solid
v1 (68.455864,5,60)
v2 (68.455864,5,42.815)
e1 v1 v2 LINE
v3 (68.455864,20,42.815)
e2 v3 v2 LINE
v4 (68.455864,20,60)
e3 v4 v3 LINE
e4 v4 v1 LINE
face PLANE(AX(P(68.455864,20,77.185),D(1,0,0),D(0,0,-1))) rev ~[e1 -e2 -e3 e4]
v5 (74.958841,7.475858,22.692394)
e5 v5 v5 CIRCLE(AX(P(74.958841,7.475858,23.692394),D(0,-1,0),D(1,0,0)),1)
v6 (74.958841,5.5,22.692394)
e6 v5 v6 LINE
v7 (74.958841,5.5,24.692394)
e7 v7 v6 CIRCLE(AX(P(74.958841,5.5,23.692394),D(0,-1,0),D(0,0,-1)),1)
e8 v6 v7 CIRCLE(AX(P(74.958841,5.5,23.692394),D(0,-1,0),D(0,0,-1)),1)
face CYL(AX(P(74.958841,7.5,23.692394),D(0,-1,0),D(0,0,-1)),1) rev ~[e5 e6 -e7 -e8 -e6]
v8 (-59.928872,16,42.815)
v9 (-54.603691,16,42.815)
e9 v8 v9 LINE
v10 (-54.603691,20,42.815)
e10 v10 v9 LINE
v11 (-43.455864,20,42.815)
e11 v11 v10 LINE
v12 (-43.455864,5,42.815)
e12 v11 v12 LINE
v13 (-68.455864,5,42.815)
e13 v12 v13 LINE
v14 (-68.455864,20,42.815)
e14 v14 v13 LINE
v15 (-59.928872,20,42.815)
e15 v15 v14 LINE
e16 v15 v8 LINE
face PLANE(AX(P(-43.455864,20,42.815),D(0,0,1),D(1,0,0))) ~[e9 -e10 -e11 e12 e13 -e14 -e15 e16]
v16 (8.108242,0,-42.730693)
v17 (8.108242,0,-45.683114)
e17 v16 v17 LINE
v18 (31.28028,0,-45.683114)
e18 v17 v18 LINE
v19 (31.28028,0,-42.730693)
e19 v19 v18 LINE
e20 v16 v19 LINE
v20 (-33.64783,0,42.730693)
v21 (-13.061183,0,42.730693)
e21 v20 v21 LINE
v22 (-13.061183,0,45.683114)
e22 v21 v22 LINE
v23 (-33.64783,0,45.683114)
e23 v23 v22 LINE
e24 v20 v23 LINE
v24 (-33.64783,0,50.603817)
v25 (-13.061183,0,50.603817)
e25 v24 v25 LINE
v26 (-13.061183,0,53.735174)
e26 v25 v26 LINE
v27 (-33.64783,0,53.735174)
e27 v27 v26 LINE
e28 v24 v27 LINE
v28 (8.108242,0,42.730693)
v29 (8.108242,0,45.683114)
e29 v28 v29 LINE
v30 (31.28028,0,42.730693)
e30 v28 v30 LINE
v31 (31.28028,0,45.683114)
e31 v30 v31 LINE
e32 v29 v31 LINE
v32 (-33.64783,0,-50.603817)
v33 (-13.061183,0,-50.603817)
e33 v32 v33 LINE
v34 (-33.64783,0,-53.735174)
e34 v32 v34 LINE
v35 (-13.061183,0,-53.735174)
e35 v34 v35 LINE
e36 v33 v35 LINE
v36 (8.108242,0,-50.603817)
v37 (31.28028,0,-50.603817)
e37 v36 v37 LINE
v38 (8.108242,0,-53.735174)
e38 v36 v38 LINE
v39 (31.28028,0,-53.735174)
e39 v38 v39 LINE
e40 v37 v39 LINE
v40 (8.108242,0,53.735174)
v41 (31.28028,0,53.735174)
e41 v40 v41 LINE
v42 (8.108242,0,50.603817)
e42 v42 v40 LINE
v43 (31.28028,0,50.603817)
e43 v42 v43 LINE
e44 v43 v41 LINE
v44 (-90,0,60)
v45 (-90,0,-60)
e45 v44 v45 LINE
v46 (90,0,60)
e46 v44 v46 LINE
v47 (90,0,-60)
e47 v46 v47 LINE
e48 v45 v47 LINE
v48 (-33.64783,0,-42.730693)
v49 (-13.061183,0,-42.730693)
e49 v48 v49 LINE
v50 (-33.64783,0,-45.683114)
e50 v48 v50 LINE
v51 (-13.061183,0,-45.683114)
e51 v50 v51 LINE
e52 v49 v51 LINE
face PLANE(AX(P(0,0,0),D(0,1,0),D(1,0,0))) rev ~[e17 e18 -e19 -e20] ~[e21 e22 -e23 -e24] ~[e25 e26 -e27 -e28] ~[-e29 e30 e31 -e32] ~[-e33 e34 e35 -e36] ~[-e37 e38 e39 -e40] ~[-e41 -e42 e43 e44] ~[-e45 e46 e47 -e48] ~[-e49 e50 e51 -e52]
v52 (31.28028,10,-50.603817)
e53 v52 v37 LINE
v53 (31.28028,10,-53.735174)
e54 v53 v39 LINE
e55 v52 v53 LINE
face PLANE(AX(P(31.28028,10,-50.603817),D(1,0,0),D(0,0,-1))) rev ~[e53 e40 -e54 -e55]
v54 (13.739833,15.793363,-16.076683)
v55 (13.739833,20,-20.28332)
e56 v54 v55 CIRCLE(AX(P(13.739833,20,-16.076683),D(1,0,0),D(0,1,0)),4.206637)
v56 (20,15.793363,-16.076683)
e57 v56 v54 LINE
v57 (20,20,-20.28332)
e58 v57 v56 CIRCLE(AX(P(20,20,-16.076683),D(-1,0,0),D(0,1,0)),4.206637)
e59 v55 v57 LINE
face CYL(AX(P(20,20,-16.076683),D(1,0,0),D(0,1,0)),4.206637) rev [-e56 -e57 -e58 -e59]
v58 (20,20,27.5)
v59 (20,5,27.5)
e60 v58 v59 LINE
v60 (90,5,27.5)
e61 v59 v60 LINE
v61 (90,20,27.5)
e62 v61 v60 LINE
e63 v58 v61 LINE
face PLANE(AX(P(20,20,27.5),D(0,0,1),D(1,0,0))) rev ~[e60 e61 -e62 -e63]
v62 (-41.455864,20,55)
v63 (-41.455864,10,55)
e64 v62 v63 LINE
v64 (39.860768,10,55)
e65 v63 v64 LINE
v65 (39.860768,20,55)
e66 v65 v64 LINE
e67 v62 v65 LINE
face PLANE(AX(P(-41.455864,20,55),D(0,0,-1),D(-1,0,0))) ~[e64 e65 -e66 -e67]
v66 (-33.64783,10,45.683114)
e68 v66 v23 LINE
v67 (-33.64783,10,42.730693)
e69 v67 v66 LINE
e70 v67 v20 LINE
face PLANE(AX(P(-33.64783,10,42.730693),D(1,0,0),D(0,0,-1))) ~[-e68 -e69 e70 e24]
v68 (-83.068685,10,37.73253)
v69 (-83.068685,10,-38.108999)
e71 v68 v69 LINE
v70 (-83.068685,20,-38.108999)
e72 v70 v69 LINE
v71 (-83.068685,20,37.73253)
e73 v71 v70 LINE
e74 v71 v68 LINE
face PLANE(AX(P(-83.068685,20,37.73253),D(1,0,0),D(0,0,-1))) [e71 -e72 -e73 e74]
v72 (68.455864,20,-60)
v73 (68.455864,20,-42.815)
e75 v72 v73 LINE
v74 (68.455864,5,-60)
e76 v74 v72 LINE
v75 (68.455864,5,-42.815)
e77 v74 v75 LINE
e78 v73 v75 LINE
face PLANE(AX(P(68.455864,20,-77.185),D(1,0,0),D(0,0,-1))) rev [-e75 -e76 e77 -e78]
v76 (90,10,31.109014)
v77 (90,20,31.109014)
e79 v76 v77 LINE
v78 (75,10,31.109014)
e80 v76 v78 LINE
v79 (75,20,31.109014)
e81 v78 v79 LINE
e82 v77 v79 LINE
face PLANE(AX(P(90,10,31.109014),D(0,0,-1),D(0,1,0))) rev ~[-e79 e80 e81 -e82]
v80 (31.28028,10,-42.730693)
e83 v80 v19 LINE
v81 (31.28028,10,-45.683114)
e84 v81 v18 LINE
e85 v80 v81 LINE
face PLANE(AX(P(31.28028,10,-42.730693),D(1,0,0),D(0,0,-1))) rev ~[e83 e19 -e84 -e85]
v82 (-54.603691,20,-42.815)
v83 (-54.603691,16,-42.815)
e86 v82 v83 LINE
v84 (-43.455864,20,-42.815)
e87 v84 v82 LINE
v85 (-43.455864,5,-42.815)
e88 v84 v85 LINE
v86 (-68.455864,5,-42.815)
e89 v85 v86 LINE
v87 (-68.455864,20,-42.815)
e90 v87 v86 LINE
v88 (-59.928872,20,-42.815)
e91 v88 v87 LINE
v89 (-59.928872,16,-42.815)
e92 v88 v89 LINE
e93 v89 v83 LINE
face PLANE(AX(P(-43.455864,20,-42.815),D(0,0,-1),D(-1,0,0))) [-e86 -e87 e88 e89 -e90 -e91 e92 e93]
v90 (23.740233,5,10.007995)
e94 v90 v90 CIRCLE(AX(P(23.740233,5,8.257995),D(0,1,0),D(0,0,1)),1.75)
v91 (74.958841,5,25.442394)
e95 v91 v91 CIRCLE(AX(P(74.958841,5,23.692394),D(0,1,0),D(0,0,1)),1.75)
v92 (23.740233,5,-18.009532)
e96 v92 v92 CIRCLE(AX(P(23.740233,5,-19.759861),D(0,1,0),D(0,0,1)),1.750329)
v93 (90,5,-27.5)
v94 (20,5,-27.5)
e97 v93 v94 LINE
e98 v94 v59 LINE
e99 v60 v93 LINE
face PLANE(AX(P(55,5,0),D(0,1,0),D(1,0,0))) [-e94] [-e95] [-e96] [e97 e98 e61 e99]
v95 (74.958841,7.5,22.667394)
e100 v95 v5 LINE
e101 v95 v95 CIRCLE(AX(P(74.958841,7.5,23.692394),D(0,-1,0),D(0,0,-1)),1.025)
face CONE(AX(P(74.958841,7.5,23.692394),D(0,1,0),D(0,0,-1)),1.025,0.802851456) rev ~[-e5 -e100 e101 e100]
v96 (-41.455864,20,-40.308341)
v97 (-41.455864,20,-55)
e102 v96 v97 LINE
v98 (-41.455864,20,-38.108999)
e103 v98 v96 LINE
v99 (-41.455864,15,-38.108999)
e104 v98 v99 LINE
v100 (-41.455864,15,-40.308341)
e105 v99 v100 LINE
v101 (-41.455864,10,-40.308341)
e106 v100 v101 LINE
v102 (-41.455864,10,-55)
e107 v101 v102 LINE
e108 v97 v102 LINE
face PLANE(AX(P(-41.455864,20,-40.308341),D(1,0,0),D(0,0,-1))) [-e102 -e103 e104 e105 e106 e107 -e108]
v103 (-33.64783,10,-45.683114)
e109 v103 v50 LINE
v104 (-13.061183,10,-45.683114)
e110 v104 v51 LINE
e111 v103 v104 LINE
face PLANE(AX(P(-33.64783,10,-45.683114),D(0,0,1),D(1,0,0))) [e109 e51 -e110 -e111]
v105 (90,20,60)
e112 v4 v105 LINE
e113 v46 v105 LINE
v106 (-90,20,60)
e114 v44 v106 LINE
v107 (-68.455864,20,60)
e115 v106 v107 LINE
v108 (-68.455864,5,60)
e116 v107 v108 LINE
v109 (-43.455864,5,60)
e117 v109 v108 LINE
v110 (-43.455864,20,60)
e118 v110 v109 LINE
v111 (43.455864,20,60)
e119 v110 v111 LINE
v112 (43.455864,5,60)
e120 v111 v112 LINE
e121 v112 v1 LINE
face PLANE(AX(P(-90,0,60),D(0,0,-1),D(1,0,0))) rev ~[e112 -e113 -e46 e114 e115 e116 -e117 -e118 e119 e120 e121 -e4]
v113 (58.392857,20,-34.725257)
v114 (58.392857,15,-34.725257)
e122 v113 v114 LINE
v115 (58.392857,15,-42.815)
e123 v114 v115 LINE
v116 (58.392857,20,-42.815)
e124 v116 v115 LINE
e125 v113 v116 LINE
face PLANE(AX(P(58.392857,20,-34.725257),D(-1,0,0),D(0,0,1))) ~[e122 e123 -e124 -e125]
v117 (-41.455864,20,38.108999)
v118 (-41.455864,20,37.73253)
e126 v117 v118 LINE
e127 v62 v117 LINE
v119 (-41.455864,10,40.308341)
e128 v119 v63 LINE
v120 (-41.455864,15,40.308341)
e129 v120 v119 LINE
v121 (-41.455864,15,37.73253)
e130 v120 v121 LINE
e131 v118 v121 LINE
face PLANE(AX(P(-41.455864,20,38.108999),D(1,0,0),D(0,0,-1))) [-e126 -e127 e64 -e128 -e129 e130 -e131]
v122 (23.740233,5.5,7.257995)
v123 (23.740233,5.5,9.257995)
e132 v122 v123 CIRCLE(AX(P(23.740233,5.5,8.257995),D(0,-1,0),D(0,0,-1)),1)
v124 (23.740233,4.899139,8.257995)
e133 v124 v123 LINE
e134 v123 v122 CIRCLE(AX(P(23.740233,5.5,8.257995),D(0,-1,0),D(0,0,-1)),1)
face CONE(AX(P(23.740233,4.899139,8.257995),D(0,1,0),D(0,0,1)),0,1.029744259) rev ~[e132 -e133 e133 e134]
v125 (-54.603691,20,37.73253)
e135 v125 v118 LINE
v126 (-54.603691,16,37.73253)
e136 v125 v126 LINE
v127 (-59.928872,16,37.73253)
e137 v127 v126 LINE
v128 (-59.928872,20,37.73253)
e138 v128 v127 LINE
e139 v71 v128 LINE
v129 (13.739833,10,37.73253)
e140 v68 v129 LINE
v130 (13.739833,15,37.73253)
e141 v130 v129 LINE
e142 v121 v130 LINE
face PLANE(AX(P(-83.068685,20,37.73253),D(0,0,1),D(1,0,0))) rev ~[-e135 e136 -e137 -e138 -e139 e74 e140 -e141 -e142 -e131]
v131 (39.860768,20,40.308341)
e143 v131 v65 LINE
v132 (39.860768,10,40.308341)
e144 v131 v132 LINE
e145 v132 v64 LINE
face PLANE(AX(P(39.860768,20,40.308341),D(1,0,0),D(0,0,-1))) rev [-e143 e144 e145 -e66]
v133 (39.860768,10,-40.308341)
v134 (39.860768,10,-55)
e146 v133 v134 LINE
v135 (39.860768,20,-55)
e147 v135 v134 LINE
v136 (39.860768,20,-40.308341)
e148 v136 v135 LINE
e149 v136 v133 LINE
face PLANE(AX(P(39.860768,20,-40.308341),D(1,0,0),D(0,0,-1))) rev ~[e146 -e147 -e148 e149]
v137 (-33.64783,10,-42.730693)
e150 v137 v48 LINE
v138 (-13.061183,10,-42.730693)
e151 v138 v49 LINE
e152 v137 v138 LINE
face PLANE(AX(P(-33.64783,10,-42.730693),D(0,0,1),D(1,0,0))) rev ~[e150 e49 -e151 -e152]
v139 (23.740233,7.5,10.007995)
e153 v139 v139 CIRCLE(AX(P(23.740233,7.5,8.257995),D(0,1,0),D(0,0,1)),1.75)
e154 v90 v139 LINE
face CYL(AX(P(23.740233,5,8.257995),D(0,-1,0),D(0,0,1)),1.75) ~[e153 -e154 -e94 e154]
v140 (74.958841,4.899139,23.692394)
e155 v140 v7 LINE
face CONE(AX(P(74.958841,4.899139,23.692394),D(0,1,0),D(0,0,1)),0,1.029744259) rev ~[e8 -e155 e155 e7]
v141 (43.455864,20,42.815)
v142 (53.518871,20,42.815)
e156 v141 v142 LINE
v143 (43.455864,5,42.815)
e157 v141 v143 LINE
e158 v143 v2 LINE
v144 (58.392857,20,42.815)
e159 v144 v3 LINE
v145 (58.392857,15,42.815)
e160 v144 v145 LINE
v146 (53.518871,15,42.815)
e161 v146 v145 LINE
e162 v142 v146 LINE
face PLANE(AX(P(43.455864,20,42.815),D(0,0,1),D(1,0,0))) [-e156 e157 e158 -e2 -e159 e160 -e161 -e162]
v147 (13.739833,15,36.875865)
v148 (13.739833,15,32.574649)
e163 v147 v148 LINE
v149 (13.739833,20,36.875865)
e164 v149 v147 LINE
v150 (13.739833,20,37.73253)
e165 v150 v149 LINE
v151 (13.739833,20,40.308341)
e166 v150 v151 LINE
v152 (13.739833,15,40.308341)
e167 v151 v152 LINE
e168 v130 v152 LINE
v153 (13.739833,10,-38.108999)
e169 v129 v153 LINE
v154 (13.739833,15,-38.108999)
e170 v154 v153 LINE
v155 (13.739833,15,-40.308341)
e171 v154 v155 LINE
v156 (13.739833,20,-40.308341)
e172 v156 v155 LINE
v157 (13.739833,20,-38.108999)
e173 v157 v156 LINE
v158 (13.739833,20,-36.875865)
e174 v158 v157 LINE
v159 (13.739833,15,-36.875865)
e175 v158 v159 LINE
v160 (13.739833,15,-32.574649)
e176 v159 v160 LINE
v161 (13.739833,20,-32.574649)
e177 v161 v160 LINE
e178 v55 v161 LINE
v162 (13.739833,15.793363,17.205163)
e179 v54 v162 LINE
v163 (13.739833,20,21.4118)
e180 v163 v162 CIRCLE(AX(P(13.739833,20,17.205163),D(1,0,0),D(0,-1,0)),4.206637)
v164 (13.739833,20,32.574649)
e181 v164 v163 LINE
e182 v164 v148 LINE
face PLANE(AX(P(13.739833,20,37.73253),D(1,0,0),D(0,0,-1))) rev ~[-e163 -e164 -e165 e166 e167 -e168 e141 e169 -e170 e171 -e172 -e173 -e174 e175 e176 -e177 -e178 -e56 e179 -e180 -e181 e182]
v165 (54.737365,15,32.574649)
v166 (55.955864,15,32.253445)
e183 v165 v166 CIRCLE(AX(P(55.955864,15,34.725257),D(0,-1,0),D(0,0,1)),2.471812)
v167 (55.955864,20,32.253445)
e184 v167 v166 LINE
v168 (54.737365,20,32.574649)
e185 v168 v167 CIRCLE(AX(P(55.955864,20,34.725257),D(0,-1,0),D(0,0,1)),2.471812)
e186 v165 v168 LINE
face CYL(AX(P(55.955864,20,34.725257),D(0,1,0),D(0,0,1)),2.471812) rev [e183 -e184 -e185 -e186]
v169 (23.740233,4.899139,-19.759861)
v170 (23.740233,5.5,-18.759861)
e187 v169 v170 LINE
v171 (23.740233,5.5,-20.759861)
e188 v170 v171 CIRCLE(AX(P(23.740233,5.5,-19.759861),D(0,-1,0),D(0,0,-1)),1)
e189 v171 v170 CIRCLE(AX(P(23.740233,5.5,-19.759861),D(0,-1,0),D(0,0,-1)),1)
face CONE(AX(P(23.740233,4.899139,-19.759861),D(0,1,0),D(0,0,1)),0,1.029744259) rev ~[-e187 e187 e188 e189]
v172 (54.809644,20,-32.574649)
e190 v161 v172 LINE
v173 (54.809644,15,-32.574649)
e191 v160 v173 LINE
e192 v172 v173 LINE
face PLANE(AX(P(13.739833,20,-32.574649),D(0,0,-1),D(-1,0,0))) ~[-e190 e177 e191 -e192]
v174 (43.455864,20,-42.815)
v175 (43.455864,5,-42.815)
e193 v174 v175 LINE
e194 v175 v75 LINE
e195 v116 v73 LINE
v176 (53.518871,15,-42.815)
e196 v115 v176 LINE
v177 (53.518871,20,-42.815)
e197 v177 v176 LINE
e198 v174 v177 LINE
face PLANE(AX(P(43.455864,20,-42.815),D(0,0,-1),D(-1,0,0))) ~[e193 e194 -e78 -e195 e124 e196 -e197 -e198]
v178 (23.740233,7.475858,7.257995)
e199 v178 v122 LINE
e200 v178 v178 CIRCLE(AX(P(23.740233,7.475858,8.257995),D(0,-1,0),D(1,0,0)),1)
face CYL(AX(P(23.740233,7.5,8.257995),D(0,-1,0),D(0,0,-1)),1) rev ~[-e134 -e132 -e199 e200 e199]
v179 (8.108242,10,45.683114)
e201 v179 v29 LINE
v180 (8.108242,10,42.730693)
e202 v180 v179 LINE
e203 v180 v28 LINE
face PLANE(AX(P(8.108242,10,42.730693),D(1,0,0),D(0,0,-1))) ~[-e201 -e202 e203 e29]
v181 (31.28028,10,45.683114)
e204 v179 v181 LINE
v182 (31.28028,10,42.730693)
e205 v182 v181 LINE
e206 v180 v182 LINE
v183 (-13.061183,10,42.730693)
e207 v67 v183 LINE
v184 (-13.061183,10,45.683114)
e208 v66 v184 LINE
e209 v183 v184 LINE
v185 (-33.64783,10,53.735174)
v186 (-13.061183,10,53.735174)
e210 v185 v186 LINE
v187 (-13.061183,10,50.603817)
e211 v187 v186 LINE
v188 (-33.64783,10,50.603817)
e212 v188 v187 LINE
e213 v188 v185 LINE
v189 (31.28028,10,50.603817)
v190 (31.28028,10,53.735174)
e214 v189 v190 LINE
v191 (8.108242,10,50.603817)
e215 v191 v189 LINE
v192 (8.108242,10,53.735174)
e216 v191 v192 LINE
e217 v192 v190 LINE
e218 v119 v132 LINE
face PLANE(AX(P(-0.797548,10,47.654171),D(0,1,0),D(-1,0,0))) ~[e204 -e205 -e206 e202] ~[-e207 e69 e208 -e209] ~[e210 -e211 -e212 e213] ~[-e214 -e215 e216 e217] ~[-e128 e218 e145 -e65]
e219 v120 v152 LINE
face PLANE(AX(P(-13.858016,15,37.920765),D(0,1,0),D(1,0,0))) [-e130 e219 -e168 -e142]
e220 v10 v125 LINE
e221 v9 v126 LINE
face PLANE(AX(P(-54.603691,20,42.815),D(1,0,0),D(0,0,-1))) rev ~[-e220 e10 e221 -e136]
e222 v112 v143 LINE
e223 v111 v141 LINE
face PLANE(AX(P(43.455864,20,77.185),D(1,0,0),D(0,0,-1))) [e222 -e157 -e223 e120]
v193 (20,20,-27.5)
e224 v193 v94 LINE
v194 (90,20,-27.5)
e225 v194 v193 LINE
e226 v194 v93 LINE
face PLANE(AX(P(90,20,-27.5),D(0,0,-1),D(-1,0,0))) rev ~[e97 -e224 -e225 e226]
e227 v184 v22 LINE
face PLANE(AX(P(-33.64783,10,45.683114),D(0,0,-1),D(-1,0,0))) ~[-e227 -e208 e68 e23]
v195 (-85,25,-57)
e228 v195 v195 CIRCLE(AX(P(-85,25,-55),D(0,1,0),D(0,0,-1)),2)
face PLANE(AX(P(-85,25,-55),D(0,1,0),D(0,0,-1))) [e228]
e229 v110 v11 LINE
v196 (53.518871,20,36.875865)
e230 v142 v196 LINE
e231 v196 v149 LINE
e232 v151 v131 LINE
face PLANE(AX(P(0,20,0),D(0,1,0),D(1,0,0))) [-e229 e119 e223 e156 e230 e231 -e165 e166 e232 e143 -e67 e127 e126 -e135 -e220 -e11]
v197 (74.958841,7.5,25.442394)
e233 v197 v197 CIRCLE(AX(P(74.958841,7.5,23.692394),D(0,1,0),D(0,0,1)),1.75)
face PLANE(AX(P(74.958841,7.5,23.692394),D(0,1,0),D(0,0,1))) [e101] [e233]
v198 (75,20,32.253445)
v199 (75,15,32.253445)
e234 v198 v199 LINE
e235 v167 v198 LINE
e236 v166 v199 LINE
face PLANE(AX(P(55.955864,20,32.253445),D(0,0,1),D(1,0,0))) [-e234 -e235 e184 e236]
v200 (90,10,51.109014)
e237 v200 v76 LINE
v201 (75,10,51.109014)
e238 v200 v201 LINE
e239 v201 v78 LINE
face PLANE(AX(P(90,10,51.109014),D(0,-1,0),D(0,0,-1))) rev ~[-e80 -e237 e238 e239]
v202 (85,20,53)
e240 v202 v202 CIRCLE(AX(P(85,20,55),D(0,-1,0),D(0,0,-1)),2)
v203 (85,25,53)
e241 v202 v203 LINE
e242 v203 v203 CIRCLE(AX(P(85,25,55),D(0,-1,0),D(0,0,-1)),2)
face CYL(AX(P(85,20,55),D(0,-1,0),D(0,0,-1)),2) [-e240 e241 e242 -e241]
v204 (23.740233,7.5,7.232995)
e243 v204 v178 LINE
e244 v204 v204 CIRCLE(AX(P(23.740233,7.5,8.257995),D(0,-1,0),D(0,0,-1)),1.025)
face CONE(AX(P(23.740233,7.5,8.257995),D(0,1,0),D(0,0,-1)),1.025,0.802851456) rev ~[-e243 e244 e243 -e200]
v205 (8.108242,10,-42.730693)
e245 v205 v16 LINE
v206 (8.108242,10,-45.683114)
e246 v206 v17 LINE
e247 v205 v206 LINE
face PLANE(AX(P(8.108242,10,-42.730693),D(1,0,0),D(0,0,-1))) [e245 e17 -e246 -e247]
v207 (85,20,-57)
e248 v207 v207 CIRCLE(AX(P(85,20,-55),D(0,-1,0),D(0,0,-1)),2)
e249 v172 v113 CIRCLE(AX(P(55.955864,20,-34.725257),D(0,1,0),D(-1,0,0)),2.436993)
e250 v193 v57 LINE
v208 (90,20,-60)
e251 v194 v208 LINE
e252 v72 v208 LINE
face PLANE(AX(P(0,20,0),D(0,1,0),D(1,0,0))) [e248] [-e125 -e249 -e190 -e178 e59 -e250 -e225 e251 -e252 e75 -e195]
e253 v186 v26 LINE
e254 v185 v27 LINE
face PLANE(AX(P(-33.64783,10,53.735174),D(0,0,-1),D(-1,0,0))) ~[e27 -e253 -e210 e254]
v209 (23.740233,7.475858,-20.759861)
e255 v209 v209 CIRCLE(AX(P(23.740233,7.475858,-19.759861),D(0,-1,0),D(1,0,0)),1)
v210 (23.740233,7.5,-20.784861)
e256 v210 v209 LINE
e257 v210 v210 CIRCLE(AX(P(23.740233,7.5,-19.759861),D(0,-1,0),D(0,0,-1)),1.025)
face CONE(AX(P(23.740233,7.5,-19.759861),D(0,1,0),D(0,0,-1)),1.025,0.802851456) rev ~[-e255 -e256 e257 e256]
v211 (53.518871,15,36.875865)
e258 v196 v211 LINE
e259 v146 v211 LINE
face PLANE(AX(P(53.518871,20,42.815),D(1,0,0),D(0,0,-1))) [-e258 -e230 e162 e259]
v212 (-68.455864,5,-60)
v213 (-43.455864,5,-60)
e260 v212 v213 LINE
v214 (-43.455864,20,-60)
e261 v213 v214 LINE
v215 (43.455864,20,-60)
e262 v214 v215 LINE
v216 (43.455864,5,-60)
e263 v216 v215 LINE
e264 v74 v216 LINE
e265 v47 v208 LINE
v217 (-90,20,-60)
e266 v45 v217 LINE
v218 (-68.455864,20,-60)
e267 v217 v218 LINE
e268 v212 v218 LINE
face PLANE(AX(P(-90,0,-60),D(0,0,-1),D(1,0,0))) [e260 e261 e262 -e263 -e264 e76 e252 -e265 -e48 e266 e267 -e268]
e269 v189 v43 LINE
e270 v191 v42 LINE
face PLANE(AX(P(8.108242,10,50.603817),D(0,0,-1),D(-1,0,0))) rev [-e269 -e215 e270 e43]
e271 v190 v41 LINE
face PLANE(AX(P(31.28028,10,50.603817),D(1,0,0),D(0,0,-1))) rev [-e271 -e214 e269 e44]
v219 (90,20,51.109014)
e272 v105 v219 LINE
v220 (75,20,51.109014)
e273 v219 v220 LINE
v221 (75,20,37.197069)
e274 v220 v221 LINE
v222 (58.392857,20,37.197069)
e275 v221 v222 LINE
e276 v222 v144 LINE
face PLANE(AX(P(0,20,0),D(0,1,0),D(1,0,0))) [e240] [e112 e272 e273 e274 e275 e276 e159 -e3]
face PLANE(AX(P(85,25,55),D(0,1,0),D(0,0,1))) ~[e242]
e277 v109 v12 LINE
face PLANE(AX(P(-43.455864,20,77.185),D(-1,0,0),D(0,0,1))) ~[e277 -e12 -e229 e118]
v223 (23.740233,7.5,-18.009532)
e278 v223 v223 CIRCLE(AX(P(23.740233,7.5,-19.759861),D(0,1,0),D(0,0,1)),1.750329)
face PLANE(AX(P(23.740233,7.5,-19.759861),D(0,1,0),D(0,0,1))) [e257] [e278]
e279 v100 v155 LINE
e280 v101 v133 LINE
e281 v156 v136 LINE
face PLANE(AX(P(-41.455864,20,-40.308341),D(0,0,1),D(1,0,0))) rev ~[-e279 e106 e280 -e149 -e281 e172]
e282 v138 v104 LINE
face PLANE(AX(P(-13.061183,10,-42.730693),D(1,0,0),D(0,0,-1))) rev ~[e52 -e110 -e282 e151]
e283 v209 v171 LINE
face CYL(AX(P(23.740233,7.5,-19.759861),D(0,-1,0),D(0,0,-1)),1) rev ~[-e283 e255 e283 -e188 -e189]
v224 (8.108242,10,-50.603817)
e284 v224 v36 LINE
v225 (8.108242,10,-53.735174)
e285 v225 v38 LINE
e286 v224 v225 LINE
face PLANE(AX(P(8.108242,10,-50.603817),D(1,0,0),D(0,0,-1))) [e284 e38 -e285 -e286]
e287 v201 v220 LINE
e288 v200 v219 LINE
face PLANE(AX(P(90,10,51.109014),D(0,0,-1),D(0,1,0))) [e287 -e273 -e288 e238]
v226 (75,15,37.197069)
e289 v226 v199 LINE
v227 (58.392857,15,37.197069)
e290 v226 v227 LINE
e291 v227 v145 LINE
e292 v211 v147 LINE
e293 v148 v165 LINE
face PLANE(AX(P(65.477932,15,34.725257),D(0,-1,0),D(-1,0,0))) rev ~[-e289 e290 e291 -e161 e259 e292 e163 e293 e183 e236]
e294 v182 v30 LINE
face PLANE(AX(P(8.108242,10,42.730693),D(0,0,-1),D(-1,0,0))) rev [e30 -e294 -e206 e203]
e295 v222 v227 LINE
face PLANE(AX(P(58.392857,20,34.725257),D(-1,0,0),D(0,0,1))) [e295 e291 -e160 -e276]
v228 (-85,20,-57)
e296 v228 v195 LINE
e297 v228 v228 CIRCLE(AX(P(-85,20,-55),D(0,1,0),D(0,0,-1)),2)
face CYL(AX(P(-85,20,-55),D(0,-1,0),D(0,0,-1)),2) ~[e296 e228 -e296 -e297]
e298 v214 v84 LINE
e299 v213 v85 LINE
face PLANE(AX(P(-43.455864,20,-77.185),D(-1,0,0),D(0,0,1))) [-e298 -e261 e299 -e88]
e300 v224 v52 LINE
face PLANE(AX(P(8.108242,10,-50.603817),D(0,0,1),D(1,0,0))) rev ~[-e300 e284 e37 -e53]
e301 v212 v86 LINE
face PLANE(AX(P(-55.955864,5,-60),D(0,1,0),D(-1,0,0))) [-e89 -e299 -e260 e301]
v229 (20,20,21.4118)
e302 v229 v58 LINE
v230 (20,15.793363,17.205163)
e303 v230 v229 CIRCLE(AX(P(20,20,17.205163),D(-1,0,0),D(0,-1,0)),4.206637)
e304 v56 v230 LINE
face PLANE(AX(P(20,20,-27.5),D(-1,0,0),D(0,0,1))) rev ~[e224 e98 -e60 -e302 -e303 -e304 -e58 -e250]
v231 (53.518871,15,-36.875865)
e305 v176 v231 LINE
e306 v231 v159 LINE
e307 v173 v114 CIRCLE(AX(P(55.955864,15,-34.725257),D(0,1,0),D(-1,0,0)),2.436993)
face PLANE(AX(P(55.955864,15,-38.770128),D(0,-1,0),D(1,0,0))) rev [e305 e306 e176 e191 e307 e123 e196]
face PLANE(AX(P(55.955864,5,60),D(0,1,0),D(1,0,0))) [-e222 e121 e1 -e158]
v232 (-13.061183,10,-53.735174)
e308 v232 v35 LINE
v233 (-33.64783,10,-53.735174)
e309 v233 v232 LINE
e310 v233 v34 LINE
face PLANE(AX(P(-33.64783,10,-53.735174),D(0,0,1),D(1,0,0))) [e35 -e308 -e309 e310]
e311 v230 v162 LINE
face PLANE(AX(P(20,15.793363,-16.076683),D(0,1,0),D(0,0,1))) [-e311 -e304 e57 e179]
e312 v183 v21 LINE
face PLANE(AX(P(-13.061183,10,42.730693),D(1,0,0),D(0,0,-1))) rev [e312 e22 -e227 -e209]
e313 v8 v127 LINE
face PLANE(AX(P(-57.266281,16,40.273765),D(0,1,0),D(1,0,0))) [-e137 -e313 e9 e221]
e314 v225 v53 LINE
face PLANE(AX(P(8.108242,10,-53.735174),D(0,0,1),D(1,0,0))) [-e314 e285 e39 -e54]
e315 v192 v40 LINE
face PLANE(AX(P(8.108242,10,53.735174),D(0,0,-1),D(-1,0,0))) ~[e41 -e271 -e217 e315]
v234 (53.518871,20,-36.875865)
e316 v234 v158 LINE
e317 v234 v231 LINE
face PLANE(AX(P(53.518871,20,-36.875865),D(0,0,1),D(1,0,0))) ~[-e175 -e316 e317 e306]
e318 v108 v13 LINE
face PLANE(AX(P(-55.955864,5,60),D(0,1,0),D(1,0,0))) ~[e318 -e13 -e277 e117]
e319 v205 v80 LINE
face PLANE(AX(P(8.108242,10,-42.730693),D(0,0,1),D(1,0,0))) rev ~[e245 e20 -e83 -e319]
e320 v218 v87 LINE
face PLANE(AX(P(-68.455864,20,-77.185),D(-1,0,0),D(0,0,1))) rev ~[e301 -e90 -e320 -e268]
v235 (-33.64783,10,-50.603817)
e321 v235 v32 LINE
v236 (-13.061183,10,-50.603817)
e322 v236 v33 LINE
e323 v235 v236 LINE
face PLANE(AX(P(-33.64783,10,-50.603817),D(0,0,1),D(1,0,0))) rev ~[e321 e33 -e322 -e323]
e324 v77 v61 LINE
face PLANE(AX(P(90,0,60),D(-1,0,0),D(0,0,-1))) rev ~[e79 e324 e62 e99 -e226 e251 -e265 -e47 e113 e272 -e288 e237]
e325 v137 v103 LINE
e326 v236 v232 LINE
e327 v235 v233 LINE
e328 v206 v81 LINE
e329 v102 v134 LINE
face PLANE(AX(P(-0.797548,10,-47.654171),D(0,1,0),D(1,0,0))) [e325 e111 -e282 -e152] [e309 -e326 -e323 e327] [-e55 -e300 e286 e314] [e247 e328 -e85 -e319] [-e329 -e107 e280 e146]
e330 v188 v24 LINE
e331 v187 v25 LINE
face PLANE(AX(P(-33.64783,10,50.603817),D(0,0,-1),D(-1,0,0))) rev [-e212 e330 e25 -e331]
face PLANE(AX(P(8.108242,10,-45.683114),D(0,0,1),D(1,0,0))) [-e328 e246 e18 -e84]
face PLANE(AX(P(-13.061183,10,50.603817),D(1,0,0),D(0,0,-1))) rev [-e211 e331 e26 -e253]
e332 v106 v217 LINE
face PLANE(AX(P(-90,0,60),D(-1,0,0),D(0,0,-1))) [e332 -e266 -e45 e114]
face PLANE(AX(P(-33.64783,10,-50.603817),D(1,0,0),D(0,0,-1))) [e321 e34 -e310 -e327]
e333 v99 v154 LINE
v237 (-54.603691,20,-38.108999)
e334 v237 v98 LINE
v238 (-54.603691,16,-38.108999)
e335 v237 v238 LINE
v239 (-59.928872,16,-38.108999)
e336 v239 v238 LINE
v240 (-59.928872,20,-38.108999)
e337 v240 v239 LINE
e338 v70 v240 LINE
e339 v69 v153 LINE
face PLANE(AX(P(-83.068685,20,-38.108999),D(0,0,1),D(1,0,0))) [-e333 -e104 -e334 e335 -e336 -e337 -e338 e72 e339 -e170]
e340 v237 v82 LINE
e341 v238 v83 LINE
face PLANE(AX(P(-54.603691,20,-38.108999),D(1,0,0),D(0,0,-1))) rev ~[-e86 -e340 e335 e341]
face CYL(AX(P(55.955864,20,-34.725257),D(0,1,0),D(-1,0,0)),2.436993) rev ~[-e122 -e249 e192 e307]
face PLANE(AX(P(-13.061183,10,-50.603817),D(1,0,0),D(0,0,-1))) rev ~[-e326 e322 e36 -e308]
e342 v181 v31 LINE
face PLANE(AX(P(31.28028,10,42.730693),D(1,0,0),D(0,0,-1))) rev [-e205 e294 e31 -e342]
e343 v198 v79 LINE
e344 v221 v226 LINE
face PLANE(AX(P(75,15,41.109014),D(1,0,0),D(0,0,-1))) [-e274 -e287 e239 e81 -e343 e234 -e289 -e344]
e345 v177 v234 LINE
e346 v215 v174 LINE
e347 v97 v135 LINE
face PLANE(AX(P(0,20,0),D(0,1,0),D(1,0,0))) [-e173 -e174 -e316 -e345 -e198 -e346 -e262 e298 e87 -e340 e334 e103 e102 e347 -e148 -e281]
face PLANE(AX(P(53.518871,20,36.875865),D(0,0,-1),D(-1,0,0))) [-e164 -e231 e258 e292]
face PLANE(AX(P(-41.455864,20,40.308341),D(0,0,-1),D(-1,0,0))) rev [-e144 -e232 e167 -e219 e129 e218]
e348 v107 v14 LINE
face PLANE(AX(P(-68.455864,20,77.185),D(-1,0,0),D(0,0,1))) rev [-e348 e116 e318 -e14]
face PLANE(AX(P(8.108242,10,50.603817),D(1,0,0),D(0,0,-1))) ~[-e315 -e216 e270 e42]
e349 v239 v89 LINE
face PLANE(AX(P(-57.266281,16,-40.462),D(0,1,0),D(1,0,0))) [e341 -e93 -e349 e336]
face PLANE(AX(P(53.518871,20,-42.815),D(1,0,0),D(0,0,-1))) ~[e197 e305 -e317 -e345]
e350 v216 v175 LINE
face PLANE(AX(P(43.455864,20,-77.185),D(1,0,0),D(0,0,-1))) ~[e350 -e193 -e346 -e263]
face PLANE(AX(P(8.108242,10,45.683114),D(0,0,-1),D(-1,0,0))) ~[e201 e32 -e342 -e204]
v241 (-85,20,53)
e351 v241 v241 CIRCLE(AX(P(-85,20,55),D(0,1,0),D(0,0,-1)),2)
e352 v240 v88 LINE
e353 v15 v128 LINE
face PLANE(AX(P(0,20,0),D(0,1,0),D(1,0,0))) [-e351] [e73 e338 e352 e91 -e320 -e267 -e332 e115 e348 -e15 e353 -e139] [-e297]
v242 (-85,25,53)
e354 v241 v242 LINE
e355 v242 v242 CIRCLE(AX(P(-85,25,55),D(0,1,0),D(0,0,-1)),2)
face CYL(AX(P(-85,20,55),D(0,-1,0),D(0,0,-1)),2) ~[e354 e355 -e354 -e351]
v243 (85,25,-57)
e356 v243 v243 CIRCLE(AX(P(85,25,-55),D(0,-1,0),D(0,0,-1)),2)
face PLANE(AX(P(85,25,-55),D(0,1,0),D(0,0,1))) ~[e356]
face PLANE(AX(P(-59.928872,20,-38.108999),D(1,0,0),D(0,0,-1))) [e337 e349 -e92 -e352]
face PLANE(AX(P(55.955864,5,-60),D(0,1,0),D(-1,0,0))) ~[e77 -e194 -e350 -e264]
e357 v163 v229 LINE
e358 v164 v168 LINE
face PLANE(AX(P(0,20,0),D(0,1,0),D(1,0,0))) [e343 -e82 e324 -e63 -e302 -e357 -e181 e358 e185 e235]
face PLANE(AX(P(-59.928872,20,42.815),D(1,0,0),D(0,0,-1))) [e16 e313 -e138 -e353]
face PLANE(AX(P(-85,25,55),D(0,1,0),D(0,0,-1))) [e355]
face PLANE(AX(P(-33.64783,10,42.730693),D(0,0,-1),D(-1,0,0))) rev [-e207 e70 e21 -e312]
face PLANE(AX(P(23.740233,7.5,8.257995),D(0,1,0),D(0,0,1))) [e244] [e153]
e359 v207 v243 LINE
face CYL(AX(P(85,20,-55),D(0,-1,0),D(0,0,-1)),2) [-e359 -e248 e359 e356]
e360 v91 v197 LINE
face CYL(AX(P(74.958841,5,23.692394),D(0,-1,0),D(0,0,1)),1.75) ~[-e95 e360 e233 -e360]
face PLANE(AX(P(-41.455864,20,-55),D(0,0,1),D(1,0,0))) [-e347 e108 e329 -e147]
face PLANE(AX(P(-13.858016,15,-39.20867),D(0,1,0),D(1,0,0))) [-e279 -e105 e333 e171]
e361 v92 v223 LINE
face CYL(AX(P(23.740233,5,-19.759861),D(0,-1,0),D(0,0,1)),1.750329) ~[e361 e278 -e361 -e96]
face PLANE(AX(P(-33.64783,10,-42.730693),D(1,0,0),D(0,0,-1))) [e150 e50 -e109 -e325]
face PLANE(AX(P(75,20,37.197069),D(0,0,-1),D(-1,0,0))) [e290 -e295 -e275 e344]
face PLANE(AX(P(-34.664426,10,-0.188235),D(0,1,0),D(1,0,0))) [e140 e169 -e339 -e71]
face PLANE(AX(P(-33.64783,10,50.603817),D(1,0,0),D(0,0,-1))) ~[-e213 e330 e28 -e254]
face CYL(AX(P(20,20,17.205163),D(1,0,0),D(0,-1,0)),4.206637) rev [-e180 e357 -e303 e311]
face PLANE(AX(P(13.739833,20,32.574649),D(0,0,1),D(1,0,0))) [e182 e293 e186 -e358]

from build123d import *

# Parameters (mm, degrees)
SKETCH1_W                          = 180
SKETCH1_H                          = 120
BOSS_EXTRUDE1_DEPTH                = 20
CUT_EXTRUDE1_DEPTH                 = 15
SKETCH3_W                          = 25
SKETCH3_H                          = 34.37
CUT_EXTRUDE2_DEPTH                 = 15
MIRROR2_COPY_1_SKETCH_W            = 25
MIRROR2_COPY_1_SKETCH_H            = 34.37
MIRROR2_COPY_1_DEPTH               = 15
SKETCH4_W                          = 96.808518295
SKETCH4_H                          = 75.84152956
CUT_EXTRUDE4_DEPTH                 = 10
SKETCH6_R                          = 1.750328968
SKETCH6_R_2                        = 1.75
BOSS_EXTRUDE2_DEPTH                = 2.5
F_2_0_2_DIAMETER_HOLE1_D           = 2
F_2_0_2_DIAMETER_HOLE1_DEPTH       = 2
F_2_0_2_DIAMETER_HOLE1_CSINK_D     = 2.05
F_2_0_2_DIAMETER_HOLE1_CSINK_ANGLE = 92
F_2_0_2_DIAMETER_HOLE1_TIP         = 0.600860619
CUT_EXTRUDE5_DEPTH                 = 10
SKETCH23_R                         = 2
BOSS_EXTRUDE3_DEPTH                = 5
SKETCH25_W                         = 5.325181223
SKETCH25_H                         = 5.082469794
SKETCH25_H_2                       = 4.706000646
CUT_EXTRUDE10_DEPTH                = 4
CUT_EXTRUDE11_DEPTH                = 5
SKETCH28_W                         = 81.316631719
SKETCH28_H                         = 14.691658707
CUT_EXTRUDE12_DEPTH                = 10
SKETCH29_W                         = 55.195697226
SKETCH29_H                         = 2.199341939
CUT_EXTRUDE13_DEPTH                = 5
SKETCH30_W                         = 23.172037828
SKETCH30_H                         = 3.131356463
SKETCH30_H_2                       = 2.952421808
SKETCH30_W_2                       = 20.586646559
CUT_EXTRUDE15_DEPTH                = 110.201648339
SKETCH31_W                         = 55.195697226
SKETCH31_H                         = 0.376469148
CUT_EXTRUDE16_DEPTH                = 5
SKETCH32_W                         = 20
SKETCH32_H                         = 10
CUT_EXTRUDE17_DEPTH                = 15
CUT_EXTRUDE18_DEPTH                = 5


with BuildPart() as part:
    # Sketch1 → Boss-Extrude1 (new body)
    with BuildSketch(Plane(origin=(0, 0, 0), x_dir=(1, 0, 0), z_dir=(0, 1, 0))):
        Rectangle(SKETCH1_W, SKETCH1_H)
    extrude(amount=BOSS_EXTRUDE1_DEPTH)

    # Sketch2 → Cut-Extrude1 (cut)
    with BuildSketch(Plane(origin=(0, 20, 0), x_dir=(1, 0, 0), z_dir=(0, 1, 0))):
        Polygon((90, 0), (90, 27.5), (20, 27.5), (20, -27.5), (90, -27.5), align=None)
    extrude(amount=-CUT_EXTRUDE1_DEPTH, mode=Mode.SUBTRACT)

    # Sketch3 → Cut-Extrude2 (cut)
    with BuildSketch(Plane(origin=(0, 20, 0), x_dir=(1, 0, 0), z_dir=(0, 1, 0))):
        with Locations((55.95586419, -60)):
            Rectangle(SKETCH3_W, SKETCH3_H)
    cut_extrude2 = extrude(amount=-CUT_EXTRUDE2_DEPTH, mode=Mode.SUBTRACT)

    # Mirror1: Cut-Extrude2 across plane
    add(cut_extrude2.mirror(Plane(origin=(0, 0, 0), x_dir=(0, 0, 1), z_dir=(1, 0, 0))), mode=Mode.SUBTRACT)

    # Mirror2: Cut-Extrude2 across plane
    add(cut_extrude2.mirror(Plane.XY), mode=Mode.SUBTRACT)

    # Mirror2 copy 1 sketch → Mirror2 copy 1 (cut)
    with BuildSketch(Plane(origin=(0, 20, 0), x_dir=(-1, 0, 0), z_dir=(0, 1, 0))):
        with Locations((55.95586419, -60)):
            Rectangle(MIRROR2_COPY_1_SKETCH_W, MIRROR2_COPY_1_SKETCH_H)
    extrude(amount=-MIRROR2_COPY_1_DEPTH, mode=Mode.SUBTRACT)

    # Sketch4 → Cut-Extrude4 (cut)
    with BuildSketch(Plane(origin=(0, 20, 0), x_dir=(1, 0, 0), z_dir=(0, 1, 0))):
        with Locations((-34.664426112, 0.188234574)):
            Rectangle(SKETCH4_W, SKETCH4_H)
    extrude(amount=-CUT_EXTRUDE4_DEPTH, mode=Mode.SUBTRACT)

    # Sketch6 → Boss-Extrude2 (add)
    with BuildSketch(Plane(origin=(0, 5, 0), x_dir=(1, 0, 0), z_dir=(0, 1, 0))):
        with Locations(Location((23.740233284, 19.759861377, 0), (0, 0, 270))):
            Circle(SKETCH6_R)
        with Locations(Location((23.740233284, -8.257995296, 0), (0, 0, 270))):
            Circle(SKETCH6_R_2)
        with Locations(Location((74.958841447, -23.692393533, 0), (0, 0, 270))):
            Circle(SKETCH6_R_2)
    extrude(amount=BOSS_EXTRUDE2_DEPTH)

    # Ø2.0 (2) Diameter Hole1
    with Locations(Plane(origin=(23.740233284, 7.5, -19.759861377), x_dir=(0, 0, 1), z_dir=(0, 1, 0))):
        with Locations((0, 0), (28.017856673, 0), (43.45225491, 51.218608163)):
            CounterSinkHole(F_2_0_2_DIAMETER_HOLE1_D / 2, F_2_0_2_DIAMETER_HOLE1_CSINK_D / 2, depth=F_2_0_2_DIAMETER_HOLE1_DEPTH, counter_sink_angle=F_2_0_2_DIAMETER_HOLE1_CSINK_ANGLE)
            with Locations((0, 0, -(F_2_0_2_DIAMETER_HOLE1_DEPTH + F_2_0_2_DIAMETER_HOLE1_TIP / 2))):  # 118° drill point
                Cone(0, F_2_0_2_DIAMETER_HOLE1_D / 2, F_2_0_2_DIAMETER_HOLE1_TIP, mode=Mode.SUBTRACT)

    # Sketch19 → Cut-Extrude5 (cut)
    with BuildSketch(Plane(origin=(20, 0, 0), x_dir=(0, 0, -1), z_dir=(1, 0, 0))):
        with BuildLine():
            Line((-17.205162996, 24.206637085), (16.076682843, 24.206637085))
            ThreePointArc((16.076682843, 24.206637085), (20.283319928, 20), (16.076682843, 15.793362915))
            Line((16.076682843, 15.793362915), (-17.205162996, 15.793362915))
            ThreePointArc((-17.205162996, 15.793362915), (-21.411800081, 20), (-17.205162996, 24.206637085))
        make_face()
    extrude(amount=-CUT_EXTRUDE5_DEPTH, mode=Mode.SUBTRACT)

    # Sketch23 → Boss-Extrude3 (add)
    with BuildSketch(Plane(origin=(0, 20, 0), x_dir=(1, 0, 0), z_dir=(0, 1, 0))):
        with Locations(Location((-85, 55, 0), (0, 0, 90))):
            Circle(SKETCH23_R)
        with Locations(Location((-85, -55, 0), (0, 0, 90))):
            Circle(SKETCH23_R)
    boss_extrude3 = extrude(amount=BOSS_EXTRUDE3_DEPTH)

    # Mirror3: Boss-Extrude3 across plane
    add(boss_extrude3.mirror(Plane(origin=(0, 0, 0), x_dir=(0, 0, 1), z_dir=(1, 0, 0))))

    # Sketch25 → Cut-Extrude10 (cut)
    with BuildSketch(Plane(origin=(0, 20, 0), x_dir=(1, 0, 0), z_dir=(0, 1, 0))):
        with Locations((-57.266281273, -40.273765103)):
            Rectangle(SKETCH25_W, SKETCH25_H)
        with Locations((-57.266281273, 40.461999677)):
            Rectangle(SKETCH25_W, SKETCH25_H_2)
    extrude(amount=-CUT_EXTRUDE10_DEPTH, mode=Mode.SUBTRACT)

    # Sketch27 → Cut-Extrude11 (cut)
    with BuildSketch(Plane(origin=(0, 20, 0), x_dir=(1, 0, 0), z_dir=(0, 1, 0))):
        with BuildLine():
            Line((53.518871282, -42.815), (53.518871282, -34.725256946))
            ThreePointArc((53.518871282, -34.725256946), (55.95586419, -32.288264038), (58.392857098, -34.725256946))
            Line((58.392857098, -34.725256946), (58.392857098, -42.815))
            ThreePointArc((58.392857098, -42.815), (55.95586419, -45.251992908), (53.518871282, -42.815))
        make_face()
        with BuildLine():
            Line((55.95586419, -36.875864951), (13.739833036, -36.875864951))
            ThreePointArc((13.739833036, -36.875864951), (11.589225031, -34.725256946), (13.739833036, -32.574648942))
            Line((13.739833036, -32.574648942), (55.95586419, -32.574648942))
            ThreePointArc((55.95586419, -32.574648942), (58.106472195, -34.725256946), (55.95586419, -36.875864951))
        make_face()
    cut_extrude11 = extrude(amount=-CUT_EXTRUDE11_DEPTH, mode=Mode.SUBTRACT)

    # Mirror4: Cut-Extrude11 across plane
    add(cut_extrude11.mirror(Plane.XY), mode=Mode.SUBTRACT)

    # Sketch28 → Cut-Extrude12 (cut)
    with BuildSketch(Plane(origin=(0, 20, 0), x_dir=(1, 0, 0), z_dir=(0, 1, 0))):
        with Locations((-0.79754833, 47.654170647)):
            Rectangle(SKETCH28_W, SKETCH28_H)
    cut_extrude12 = extrude(amount=-CUT_EXTRUDE12_DEPTH, mode=Mode.SUBTRACT)

    # Sketch29 → Cut-Extrude13 (cut)
    with BuildSketch(Plane(origin=(0, 20, 0), x_dir=(1, 0, 0), z_dir=(0, 1, 0))):
        with Locations((-13.858015577, 39.208670324)):
            Rectangle(SKETCH29_W, SKETCH29_H)
    cut_extrude13 = extrude(amount=-CUT_EXTRUDE13_DEPTH, mode=Mode.SUBTRACT)

    # Sketch30 → Cut-Extrude15 (cut, through all)
    with BuildSketch(Plane(origin=(0, 10, 0), x_dir=(1, 0, 0), z_dir=(0, 1, 0))):
        with Locations((19.694260821, 52.169495653)):
            Rectangle(SKETCH30_W, SKETCH30_H)
        with Locations((19.694260821, 44.206903503)):
            Rectangle(SKETCH30_W, SKETCH30_H_2)
        with Locations((-23.35450663, 52.169495653)):
            Rectangle(SKETCH30_W_2, SKETCH30_H)
        with Locations((-23.35450663, 44.206903503)):
            Rectangle(SKETCH30_W_2, SKETCH30_H_2)
    cut_extrude15 = extrude(amount=-CUT_EXTRUDE15_DEPTH, mode=Mode.SUBTRACT)

    # Mirror5: Cut-Extrude12, Cut-Extrude13, Cut-Extrude15 across plane
    add(cut_extrude12.mirror(Plane.XY), mode=Mode.SUBTRACT)
    add(cut_extrude13.mirror(Plane.XY), mode=Mode.SUBTRACT)
    add(cut_extrude15.mirror(Plane.XY), mode=Mode.SUBTRACT)

    # Sketch31 → Cut-Extrude16 (cut)
    with BuildSketch(Plane(origin=(0, 20, 0), x_dir=(1, 0, 0), z_dir=(0, 1, 0))):
        with Locations((-13.858015577, -37.92076478)):
            Rectangle(SKETCH31_W, SKETCH31_H)
    extrude(amount=-CUT_EXTRUDE16_DEPTH, mode=Mode.SUBTRACT)

    # Sketch32 → Cut-Extrude17 (cut)
    with BuildSketch(Plane(origin=(90, 0, 0), x_dir=(0, 0, -1), z_dir=(1, 0, 0))):
        with Locations((-41.109013554, 15)):
            Rectangle(SKETCH32_W, SKETCH32_H)
    extrude(amount=-CUT_EXTRUDE17_DEPTH, mode=Mode.SUBTRACT)

    # Sketch33 → Cut-Extrude18 (cut)
    with BuildSketch(Plane(origin=(0, 20, 0), x_dir=(1, 0, 0), z_dir=(0, 1, 0))):
        with BuildLine():
            Line((55.95586419, -32.253444684), (75, -32.253444684))
            ThreePointArc((75, -32.253444684), (77.471812262, -34.725256946), (75, -37.197069209))
            Line((75, -37.197069209), (55.95586419, -37.197069209))
            ThreePointArc((55.95586419, -37.197069209), (53.484051928, -34.725256946), (55.95586419, -32.253444684))
        make_face()
    extrude(amount=-CUT_EXTRUDE18_DEPTH, mode=Mode.SUBTRACT)


solid = part.part
